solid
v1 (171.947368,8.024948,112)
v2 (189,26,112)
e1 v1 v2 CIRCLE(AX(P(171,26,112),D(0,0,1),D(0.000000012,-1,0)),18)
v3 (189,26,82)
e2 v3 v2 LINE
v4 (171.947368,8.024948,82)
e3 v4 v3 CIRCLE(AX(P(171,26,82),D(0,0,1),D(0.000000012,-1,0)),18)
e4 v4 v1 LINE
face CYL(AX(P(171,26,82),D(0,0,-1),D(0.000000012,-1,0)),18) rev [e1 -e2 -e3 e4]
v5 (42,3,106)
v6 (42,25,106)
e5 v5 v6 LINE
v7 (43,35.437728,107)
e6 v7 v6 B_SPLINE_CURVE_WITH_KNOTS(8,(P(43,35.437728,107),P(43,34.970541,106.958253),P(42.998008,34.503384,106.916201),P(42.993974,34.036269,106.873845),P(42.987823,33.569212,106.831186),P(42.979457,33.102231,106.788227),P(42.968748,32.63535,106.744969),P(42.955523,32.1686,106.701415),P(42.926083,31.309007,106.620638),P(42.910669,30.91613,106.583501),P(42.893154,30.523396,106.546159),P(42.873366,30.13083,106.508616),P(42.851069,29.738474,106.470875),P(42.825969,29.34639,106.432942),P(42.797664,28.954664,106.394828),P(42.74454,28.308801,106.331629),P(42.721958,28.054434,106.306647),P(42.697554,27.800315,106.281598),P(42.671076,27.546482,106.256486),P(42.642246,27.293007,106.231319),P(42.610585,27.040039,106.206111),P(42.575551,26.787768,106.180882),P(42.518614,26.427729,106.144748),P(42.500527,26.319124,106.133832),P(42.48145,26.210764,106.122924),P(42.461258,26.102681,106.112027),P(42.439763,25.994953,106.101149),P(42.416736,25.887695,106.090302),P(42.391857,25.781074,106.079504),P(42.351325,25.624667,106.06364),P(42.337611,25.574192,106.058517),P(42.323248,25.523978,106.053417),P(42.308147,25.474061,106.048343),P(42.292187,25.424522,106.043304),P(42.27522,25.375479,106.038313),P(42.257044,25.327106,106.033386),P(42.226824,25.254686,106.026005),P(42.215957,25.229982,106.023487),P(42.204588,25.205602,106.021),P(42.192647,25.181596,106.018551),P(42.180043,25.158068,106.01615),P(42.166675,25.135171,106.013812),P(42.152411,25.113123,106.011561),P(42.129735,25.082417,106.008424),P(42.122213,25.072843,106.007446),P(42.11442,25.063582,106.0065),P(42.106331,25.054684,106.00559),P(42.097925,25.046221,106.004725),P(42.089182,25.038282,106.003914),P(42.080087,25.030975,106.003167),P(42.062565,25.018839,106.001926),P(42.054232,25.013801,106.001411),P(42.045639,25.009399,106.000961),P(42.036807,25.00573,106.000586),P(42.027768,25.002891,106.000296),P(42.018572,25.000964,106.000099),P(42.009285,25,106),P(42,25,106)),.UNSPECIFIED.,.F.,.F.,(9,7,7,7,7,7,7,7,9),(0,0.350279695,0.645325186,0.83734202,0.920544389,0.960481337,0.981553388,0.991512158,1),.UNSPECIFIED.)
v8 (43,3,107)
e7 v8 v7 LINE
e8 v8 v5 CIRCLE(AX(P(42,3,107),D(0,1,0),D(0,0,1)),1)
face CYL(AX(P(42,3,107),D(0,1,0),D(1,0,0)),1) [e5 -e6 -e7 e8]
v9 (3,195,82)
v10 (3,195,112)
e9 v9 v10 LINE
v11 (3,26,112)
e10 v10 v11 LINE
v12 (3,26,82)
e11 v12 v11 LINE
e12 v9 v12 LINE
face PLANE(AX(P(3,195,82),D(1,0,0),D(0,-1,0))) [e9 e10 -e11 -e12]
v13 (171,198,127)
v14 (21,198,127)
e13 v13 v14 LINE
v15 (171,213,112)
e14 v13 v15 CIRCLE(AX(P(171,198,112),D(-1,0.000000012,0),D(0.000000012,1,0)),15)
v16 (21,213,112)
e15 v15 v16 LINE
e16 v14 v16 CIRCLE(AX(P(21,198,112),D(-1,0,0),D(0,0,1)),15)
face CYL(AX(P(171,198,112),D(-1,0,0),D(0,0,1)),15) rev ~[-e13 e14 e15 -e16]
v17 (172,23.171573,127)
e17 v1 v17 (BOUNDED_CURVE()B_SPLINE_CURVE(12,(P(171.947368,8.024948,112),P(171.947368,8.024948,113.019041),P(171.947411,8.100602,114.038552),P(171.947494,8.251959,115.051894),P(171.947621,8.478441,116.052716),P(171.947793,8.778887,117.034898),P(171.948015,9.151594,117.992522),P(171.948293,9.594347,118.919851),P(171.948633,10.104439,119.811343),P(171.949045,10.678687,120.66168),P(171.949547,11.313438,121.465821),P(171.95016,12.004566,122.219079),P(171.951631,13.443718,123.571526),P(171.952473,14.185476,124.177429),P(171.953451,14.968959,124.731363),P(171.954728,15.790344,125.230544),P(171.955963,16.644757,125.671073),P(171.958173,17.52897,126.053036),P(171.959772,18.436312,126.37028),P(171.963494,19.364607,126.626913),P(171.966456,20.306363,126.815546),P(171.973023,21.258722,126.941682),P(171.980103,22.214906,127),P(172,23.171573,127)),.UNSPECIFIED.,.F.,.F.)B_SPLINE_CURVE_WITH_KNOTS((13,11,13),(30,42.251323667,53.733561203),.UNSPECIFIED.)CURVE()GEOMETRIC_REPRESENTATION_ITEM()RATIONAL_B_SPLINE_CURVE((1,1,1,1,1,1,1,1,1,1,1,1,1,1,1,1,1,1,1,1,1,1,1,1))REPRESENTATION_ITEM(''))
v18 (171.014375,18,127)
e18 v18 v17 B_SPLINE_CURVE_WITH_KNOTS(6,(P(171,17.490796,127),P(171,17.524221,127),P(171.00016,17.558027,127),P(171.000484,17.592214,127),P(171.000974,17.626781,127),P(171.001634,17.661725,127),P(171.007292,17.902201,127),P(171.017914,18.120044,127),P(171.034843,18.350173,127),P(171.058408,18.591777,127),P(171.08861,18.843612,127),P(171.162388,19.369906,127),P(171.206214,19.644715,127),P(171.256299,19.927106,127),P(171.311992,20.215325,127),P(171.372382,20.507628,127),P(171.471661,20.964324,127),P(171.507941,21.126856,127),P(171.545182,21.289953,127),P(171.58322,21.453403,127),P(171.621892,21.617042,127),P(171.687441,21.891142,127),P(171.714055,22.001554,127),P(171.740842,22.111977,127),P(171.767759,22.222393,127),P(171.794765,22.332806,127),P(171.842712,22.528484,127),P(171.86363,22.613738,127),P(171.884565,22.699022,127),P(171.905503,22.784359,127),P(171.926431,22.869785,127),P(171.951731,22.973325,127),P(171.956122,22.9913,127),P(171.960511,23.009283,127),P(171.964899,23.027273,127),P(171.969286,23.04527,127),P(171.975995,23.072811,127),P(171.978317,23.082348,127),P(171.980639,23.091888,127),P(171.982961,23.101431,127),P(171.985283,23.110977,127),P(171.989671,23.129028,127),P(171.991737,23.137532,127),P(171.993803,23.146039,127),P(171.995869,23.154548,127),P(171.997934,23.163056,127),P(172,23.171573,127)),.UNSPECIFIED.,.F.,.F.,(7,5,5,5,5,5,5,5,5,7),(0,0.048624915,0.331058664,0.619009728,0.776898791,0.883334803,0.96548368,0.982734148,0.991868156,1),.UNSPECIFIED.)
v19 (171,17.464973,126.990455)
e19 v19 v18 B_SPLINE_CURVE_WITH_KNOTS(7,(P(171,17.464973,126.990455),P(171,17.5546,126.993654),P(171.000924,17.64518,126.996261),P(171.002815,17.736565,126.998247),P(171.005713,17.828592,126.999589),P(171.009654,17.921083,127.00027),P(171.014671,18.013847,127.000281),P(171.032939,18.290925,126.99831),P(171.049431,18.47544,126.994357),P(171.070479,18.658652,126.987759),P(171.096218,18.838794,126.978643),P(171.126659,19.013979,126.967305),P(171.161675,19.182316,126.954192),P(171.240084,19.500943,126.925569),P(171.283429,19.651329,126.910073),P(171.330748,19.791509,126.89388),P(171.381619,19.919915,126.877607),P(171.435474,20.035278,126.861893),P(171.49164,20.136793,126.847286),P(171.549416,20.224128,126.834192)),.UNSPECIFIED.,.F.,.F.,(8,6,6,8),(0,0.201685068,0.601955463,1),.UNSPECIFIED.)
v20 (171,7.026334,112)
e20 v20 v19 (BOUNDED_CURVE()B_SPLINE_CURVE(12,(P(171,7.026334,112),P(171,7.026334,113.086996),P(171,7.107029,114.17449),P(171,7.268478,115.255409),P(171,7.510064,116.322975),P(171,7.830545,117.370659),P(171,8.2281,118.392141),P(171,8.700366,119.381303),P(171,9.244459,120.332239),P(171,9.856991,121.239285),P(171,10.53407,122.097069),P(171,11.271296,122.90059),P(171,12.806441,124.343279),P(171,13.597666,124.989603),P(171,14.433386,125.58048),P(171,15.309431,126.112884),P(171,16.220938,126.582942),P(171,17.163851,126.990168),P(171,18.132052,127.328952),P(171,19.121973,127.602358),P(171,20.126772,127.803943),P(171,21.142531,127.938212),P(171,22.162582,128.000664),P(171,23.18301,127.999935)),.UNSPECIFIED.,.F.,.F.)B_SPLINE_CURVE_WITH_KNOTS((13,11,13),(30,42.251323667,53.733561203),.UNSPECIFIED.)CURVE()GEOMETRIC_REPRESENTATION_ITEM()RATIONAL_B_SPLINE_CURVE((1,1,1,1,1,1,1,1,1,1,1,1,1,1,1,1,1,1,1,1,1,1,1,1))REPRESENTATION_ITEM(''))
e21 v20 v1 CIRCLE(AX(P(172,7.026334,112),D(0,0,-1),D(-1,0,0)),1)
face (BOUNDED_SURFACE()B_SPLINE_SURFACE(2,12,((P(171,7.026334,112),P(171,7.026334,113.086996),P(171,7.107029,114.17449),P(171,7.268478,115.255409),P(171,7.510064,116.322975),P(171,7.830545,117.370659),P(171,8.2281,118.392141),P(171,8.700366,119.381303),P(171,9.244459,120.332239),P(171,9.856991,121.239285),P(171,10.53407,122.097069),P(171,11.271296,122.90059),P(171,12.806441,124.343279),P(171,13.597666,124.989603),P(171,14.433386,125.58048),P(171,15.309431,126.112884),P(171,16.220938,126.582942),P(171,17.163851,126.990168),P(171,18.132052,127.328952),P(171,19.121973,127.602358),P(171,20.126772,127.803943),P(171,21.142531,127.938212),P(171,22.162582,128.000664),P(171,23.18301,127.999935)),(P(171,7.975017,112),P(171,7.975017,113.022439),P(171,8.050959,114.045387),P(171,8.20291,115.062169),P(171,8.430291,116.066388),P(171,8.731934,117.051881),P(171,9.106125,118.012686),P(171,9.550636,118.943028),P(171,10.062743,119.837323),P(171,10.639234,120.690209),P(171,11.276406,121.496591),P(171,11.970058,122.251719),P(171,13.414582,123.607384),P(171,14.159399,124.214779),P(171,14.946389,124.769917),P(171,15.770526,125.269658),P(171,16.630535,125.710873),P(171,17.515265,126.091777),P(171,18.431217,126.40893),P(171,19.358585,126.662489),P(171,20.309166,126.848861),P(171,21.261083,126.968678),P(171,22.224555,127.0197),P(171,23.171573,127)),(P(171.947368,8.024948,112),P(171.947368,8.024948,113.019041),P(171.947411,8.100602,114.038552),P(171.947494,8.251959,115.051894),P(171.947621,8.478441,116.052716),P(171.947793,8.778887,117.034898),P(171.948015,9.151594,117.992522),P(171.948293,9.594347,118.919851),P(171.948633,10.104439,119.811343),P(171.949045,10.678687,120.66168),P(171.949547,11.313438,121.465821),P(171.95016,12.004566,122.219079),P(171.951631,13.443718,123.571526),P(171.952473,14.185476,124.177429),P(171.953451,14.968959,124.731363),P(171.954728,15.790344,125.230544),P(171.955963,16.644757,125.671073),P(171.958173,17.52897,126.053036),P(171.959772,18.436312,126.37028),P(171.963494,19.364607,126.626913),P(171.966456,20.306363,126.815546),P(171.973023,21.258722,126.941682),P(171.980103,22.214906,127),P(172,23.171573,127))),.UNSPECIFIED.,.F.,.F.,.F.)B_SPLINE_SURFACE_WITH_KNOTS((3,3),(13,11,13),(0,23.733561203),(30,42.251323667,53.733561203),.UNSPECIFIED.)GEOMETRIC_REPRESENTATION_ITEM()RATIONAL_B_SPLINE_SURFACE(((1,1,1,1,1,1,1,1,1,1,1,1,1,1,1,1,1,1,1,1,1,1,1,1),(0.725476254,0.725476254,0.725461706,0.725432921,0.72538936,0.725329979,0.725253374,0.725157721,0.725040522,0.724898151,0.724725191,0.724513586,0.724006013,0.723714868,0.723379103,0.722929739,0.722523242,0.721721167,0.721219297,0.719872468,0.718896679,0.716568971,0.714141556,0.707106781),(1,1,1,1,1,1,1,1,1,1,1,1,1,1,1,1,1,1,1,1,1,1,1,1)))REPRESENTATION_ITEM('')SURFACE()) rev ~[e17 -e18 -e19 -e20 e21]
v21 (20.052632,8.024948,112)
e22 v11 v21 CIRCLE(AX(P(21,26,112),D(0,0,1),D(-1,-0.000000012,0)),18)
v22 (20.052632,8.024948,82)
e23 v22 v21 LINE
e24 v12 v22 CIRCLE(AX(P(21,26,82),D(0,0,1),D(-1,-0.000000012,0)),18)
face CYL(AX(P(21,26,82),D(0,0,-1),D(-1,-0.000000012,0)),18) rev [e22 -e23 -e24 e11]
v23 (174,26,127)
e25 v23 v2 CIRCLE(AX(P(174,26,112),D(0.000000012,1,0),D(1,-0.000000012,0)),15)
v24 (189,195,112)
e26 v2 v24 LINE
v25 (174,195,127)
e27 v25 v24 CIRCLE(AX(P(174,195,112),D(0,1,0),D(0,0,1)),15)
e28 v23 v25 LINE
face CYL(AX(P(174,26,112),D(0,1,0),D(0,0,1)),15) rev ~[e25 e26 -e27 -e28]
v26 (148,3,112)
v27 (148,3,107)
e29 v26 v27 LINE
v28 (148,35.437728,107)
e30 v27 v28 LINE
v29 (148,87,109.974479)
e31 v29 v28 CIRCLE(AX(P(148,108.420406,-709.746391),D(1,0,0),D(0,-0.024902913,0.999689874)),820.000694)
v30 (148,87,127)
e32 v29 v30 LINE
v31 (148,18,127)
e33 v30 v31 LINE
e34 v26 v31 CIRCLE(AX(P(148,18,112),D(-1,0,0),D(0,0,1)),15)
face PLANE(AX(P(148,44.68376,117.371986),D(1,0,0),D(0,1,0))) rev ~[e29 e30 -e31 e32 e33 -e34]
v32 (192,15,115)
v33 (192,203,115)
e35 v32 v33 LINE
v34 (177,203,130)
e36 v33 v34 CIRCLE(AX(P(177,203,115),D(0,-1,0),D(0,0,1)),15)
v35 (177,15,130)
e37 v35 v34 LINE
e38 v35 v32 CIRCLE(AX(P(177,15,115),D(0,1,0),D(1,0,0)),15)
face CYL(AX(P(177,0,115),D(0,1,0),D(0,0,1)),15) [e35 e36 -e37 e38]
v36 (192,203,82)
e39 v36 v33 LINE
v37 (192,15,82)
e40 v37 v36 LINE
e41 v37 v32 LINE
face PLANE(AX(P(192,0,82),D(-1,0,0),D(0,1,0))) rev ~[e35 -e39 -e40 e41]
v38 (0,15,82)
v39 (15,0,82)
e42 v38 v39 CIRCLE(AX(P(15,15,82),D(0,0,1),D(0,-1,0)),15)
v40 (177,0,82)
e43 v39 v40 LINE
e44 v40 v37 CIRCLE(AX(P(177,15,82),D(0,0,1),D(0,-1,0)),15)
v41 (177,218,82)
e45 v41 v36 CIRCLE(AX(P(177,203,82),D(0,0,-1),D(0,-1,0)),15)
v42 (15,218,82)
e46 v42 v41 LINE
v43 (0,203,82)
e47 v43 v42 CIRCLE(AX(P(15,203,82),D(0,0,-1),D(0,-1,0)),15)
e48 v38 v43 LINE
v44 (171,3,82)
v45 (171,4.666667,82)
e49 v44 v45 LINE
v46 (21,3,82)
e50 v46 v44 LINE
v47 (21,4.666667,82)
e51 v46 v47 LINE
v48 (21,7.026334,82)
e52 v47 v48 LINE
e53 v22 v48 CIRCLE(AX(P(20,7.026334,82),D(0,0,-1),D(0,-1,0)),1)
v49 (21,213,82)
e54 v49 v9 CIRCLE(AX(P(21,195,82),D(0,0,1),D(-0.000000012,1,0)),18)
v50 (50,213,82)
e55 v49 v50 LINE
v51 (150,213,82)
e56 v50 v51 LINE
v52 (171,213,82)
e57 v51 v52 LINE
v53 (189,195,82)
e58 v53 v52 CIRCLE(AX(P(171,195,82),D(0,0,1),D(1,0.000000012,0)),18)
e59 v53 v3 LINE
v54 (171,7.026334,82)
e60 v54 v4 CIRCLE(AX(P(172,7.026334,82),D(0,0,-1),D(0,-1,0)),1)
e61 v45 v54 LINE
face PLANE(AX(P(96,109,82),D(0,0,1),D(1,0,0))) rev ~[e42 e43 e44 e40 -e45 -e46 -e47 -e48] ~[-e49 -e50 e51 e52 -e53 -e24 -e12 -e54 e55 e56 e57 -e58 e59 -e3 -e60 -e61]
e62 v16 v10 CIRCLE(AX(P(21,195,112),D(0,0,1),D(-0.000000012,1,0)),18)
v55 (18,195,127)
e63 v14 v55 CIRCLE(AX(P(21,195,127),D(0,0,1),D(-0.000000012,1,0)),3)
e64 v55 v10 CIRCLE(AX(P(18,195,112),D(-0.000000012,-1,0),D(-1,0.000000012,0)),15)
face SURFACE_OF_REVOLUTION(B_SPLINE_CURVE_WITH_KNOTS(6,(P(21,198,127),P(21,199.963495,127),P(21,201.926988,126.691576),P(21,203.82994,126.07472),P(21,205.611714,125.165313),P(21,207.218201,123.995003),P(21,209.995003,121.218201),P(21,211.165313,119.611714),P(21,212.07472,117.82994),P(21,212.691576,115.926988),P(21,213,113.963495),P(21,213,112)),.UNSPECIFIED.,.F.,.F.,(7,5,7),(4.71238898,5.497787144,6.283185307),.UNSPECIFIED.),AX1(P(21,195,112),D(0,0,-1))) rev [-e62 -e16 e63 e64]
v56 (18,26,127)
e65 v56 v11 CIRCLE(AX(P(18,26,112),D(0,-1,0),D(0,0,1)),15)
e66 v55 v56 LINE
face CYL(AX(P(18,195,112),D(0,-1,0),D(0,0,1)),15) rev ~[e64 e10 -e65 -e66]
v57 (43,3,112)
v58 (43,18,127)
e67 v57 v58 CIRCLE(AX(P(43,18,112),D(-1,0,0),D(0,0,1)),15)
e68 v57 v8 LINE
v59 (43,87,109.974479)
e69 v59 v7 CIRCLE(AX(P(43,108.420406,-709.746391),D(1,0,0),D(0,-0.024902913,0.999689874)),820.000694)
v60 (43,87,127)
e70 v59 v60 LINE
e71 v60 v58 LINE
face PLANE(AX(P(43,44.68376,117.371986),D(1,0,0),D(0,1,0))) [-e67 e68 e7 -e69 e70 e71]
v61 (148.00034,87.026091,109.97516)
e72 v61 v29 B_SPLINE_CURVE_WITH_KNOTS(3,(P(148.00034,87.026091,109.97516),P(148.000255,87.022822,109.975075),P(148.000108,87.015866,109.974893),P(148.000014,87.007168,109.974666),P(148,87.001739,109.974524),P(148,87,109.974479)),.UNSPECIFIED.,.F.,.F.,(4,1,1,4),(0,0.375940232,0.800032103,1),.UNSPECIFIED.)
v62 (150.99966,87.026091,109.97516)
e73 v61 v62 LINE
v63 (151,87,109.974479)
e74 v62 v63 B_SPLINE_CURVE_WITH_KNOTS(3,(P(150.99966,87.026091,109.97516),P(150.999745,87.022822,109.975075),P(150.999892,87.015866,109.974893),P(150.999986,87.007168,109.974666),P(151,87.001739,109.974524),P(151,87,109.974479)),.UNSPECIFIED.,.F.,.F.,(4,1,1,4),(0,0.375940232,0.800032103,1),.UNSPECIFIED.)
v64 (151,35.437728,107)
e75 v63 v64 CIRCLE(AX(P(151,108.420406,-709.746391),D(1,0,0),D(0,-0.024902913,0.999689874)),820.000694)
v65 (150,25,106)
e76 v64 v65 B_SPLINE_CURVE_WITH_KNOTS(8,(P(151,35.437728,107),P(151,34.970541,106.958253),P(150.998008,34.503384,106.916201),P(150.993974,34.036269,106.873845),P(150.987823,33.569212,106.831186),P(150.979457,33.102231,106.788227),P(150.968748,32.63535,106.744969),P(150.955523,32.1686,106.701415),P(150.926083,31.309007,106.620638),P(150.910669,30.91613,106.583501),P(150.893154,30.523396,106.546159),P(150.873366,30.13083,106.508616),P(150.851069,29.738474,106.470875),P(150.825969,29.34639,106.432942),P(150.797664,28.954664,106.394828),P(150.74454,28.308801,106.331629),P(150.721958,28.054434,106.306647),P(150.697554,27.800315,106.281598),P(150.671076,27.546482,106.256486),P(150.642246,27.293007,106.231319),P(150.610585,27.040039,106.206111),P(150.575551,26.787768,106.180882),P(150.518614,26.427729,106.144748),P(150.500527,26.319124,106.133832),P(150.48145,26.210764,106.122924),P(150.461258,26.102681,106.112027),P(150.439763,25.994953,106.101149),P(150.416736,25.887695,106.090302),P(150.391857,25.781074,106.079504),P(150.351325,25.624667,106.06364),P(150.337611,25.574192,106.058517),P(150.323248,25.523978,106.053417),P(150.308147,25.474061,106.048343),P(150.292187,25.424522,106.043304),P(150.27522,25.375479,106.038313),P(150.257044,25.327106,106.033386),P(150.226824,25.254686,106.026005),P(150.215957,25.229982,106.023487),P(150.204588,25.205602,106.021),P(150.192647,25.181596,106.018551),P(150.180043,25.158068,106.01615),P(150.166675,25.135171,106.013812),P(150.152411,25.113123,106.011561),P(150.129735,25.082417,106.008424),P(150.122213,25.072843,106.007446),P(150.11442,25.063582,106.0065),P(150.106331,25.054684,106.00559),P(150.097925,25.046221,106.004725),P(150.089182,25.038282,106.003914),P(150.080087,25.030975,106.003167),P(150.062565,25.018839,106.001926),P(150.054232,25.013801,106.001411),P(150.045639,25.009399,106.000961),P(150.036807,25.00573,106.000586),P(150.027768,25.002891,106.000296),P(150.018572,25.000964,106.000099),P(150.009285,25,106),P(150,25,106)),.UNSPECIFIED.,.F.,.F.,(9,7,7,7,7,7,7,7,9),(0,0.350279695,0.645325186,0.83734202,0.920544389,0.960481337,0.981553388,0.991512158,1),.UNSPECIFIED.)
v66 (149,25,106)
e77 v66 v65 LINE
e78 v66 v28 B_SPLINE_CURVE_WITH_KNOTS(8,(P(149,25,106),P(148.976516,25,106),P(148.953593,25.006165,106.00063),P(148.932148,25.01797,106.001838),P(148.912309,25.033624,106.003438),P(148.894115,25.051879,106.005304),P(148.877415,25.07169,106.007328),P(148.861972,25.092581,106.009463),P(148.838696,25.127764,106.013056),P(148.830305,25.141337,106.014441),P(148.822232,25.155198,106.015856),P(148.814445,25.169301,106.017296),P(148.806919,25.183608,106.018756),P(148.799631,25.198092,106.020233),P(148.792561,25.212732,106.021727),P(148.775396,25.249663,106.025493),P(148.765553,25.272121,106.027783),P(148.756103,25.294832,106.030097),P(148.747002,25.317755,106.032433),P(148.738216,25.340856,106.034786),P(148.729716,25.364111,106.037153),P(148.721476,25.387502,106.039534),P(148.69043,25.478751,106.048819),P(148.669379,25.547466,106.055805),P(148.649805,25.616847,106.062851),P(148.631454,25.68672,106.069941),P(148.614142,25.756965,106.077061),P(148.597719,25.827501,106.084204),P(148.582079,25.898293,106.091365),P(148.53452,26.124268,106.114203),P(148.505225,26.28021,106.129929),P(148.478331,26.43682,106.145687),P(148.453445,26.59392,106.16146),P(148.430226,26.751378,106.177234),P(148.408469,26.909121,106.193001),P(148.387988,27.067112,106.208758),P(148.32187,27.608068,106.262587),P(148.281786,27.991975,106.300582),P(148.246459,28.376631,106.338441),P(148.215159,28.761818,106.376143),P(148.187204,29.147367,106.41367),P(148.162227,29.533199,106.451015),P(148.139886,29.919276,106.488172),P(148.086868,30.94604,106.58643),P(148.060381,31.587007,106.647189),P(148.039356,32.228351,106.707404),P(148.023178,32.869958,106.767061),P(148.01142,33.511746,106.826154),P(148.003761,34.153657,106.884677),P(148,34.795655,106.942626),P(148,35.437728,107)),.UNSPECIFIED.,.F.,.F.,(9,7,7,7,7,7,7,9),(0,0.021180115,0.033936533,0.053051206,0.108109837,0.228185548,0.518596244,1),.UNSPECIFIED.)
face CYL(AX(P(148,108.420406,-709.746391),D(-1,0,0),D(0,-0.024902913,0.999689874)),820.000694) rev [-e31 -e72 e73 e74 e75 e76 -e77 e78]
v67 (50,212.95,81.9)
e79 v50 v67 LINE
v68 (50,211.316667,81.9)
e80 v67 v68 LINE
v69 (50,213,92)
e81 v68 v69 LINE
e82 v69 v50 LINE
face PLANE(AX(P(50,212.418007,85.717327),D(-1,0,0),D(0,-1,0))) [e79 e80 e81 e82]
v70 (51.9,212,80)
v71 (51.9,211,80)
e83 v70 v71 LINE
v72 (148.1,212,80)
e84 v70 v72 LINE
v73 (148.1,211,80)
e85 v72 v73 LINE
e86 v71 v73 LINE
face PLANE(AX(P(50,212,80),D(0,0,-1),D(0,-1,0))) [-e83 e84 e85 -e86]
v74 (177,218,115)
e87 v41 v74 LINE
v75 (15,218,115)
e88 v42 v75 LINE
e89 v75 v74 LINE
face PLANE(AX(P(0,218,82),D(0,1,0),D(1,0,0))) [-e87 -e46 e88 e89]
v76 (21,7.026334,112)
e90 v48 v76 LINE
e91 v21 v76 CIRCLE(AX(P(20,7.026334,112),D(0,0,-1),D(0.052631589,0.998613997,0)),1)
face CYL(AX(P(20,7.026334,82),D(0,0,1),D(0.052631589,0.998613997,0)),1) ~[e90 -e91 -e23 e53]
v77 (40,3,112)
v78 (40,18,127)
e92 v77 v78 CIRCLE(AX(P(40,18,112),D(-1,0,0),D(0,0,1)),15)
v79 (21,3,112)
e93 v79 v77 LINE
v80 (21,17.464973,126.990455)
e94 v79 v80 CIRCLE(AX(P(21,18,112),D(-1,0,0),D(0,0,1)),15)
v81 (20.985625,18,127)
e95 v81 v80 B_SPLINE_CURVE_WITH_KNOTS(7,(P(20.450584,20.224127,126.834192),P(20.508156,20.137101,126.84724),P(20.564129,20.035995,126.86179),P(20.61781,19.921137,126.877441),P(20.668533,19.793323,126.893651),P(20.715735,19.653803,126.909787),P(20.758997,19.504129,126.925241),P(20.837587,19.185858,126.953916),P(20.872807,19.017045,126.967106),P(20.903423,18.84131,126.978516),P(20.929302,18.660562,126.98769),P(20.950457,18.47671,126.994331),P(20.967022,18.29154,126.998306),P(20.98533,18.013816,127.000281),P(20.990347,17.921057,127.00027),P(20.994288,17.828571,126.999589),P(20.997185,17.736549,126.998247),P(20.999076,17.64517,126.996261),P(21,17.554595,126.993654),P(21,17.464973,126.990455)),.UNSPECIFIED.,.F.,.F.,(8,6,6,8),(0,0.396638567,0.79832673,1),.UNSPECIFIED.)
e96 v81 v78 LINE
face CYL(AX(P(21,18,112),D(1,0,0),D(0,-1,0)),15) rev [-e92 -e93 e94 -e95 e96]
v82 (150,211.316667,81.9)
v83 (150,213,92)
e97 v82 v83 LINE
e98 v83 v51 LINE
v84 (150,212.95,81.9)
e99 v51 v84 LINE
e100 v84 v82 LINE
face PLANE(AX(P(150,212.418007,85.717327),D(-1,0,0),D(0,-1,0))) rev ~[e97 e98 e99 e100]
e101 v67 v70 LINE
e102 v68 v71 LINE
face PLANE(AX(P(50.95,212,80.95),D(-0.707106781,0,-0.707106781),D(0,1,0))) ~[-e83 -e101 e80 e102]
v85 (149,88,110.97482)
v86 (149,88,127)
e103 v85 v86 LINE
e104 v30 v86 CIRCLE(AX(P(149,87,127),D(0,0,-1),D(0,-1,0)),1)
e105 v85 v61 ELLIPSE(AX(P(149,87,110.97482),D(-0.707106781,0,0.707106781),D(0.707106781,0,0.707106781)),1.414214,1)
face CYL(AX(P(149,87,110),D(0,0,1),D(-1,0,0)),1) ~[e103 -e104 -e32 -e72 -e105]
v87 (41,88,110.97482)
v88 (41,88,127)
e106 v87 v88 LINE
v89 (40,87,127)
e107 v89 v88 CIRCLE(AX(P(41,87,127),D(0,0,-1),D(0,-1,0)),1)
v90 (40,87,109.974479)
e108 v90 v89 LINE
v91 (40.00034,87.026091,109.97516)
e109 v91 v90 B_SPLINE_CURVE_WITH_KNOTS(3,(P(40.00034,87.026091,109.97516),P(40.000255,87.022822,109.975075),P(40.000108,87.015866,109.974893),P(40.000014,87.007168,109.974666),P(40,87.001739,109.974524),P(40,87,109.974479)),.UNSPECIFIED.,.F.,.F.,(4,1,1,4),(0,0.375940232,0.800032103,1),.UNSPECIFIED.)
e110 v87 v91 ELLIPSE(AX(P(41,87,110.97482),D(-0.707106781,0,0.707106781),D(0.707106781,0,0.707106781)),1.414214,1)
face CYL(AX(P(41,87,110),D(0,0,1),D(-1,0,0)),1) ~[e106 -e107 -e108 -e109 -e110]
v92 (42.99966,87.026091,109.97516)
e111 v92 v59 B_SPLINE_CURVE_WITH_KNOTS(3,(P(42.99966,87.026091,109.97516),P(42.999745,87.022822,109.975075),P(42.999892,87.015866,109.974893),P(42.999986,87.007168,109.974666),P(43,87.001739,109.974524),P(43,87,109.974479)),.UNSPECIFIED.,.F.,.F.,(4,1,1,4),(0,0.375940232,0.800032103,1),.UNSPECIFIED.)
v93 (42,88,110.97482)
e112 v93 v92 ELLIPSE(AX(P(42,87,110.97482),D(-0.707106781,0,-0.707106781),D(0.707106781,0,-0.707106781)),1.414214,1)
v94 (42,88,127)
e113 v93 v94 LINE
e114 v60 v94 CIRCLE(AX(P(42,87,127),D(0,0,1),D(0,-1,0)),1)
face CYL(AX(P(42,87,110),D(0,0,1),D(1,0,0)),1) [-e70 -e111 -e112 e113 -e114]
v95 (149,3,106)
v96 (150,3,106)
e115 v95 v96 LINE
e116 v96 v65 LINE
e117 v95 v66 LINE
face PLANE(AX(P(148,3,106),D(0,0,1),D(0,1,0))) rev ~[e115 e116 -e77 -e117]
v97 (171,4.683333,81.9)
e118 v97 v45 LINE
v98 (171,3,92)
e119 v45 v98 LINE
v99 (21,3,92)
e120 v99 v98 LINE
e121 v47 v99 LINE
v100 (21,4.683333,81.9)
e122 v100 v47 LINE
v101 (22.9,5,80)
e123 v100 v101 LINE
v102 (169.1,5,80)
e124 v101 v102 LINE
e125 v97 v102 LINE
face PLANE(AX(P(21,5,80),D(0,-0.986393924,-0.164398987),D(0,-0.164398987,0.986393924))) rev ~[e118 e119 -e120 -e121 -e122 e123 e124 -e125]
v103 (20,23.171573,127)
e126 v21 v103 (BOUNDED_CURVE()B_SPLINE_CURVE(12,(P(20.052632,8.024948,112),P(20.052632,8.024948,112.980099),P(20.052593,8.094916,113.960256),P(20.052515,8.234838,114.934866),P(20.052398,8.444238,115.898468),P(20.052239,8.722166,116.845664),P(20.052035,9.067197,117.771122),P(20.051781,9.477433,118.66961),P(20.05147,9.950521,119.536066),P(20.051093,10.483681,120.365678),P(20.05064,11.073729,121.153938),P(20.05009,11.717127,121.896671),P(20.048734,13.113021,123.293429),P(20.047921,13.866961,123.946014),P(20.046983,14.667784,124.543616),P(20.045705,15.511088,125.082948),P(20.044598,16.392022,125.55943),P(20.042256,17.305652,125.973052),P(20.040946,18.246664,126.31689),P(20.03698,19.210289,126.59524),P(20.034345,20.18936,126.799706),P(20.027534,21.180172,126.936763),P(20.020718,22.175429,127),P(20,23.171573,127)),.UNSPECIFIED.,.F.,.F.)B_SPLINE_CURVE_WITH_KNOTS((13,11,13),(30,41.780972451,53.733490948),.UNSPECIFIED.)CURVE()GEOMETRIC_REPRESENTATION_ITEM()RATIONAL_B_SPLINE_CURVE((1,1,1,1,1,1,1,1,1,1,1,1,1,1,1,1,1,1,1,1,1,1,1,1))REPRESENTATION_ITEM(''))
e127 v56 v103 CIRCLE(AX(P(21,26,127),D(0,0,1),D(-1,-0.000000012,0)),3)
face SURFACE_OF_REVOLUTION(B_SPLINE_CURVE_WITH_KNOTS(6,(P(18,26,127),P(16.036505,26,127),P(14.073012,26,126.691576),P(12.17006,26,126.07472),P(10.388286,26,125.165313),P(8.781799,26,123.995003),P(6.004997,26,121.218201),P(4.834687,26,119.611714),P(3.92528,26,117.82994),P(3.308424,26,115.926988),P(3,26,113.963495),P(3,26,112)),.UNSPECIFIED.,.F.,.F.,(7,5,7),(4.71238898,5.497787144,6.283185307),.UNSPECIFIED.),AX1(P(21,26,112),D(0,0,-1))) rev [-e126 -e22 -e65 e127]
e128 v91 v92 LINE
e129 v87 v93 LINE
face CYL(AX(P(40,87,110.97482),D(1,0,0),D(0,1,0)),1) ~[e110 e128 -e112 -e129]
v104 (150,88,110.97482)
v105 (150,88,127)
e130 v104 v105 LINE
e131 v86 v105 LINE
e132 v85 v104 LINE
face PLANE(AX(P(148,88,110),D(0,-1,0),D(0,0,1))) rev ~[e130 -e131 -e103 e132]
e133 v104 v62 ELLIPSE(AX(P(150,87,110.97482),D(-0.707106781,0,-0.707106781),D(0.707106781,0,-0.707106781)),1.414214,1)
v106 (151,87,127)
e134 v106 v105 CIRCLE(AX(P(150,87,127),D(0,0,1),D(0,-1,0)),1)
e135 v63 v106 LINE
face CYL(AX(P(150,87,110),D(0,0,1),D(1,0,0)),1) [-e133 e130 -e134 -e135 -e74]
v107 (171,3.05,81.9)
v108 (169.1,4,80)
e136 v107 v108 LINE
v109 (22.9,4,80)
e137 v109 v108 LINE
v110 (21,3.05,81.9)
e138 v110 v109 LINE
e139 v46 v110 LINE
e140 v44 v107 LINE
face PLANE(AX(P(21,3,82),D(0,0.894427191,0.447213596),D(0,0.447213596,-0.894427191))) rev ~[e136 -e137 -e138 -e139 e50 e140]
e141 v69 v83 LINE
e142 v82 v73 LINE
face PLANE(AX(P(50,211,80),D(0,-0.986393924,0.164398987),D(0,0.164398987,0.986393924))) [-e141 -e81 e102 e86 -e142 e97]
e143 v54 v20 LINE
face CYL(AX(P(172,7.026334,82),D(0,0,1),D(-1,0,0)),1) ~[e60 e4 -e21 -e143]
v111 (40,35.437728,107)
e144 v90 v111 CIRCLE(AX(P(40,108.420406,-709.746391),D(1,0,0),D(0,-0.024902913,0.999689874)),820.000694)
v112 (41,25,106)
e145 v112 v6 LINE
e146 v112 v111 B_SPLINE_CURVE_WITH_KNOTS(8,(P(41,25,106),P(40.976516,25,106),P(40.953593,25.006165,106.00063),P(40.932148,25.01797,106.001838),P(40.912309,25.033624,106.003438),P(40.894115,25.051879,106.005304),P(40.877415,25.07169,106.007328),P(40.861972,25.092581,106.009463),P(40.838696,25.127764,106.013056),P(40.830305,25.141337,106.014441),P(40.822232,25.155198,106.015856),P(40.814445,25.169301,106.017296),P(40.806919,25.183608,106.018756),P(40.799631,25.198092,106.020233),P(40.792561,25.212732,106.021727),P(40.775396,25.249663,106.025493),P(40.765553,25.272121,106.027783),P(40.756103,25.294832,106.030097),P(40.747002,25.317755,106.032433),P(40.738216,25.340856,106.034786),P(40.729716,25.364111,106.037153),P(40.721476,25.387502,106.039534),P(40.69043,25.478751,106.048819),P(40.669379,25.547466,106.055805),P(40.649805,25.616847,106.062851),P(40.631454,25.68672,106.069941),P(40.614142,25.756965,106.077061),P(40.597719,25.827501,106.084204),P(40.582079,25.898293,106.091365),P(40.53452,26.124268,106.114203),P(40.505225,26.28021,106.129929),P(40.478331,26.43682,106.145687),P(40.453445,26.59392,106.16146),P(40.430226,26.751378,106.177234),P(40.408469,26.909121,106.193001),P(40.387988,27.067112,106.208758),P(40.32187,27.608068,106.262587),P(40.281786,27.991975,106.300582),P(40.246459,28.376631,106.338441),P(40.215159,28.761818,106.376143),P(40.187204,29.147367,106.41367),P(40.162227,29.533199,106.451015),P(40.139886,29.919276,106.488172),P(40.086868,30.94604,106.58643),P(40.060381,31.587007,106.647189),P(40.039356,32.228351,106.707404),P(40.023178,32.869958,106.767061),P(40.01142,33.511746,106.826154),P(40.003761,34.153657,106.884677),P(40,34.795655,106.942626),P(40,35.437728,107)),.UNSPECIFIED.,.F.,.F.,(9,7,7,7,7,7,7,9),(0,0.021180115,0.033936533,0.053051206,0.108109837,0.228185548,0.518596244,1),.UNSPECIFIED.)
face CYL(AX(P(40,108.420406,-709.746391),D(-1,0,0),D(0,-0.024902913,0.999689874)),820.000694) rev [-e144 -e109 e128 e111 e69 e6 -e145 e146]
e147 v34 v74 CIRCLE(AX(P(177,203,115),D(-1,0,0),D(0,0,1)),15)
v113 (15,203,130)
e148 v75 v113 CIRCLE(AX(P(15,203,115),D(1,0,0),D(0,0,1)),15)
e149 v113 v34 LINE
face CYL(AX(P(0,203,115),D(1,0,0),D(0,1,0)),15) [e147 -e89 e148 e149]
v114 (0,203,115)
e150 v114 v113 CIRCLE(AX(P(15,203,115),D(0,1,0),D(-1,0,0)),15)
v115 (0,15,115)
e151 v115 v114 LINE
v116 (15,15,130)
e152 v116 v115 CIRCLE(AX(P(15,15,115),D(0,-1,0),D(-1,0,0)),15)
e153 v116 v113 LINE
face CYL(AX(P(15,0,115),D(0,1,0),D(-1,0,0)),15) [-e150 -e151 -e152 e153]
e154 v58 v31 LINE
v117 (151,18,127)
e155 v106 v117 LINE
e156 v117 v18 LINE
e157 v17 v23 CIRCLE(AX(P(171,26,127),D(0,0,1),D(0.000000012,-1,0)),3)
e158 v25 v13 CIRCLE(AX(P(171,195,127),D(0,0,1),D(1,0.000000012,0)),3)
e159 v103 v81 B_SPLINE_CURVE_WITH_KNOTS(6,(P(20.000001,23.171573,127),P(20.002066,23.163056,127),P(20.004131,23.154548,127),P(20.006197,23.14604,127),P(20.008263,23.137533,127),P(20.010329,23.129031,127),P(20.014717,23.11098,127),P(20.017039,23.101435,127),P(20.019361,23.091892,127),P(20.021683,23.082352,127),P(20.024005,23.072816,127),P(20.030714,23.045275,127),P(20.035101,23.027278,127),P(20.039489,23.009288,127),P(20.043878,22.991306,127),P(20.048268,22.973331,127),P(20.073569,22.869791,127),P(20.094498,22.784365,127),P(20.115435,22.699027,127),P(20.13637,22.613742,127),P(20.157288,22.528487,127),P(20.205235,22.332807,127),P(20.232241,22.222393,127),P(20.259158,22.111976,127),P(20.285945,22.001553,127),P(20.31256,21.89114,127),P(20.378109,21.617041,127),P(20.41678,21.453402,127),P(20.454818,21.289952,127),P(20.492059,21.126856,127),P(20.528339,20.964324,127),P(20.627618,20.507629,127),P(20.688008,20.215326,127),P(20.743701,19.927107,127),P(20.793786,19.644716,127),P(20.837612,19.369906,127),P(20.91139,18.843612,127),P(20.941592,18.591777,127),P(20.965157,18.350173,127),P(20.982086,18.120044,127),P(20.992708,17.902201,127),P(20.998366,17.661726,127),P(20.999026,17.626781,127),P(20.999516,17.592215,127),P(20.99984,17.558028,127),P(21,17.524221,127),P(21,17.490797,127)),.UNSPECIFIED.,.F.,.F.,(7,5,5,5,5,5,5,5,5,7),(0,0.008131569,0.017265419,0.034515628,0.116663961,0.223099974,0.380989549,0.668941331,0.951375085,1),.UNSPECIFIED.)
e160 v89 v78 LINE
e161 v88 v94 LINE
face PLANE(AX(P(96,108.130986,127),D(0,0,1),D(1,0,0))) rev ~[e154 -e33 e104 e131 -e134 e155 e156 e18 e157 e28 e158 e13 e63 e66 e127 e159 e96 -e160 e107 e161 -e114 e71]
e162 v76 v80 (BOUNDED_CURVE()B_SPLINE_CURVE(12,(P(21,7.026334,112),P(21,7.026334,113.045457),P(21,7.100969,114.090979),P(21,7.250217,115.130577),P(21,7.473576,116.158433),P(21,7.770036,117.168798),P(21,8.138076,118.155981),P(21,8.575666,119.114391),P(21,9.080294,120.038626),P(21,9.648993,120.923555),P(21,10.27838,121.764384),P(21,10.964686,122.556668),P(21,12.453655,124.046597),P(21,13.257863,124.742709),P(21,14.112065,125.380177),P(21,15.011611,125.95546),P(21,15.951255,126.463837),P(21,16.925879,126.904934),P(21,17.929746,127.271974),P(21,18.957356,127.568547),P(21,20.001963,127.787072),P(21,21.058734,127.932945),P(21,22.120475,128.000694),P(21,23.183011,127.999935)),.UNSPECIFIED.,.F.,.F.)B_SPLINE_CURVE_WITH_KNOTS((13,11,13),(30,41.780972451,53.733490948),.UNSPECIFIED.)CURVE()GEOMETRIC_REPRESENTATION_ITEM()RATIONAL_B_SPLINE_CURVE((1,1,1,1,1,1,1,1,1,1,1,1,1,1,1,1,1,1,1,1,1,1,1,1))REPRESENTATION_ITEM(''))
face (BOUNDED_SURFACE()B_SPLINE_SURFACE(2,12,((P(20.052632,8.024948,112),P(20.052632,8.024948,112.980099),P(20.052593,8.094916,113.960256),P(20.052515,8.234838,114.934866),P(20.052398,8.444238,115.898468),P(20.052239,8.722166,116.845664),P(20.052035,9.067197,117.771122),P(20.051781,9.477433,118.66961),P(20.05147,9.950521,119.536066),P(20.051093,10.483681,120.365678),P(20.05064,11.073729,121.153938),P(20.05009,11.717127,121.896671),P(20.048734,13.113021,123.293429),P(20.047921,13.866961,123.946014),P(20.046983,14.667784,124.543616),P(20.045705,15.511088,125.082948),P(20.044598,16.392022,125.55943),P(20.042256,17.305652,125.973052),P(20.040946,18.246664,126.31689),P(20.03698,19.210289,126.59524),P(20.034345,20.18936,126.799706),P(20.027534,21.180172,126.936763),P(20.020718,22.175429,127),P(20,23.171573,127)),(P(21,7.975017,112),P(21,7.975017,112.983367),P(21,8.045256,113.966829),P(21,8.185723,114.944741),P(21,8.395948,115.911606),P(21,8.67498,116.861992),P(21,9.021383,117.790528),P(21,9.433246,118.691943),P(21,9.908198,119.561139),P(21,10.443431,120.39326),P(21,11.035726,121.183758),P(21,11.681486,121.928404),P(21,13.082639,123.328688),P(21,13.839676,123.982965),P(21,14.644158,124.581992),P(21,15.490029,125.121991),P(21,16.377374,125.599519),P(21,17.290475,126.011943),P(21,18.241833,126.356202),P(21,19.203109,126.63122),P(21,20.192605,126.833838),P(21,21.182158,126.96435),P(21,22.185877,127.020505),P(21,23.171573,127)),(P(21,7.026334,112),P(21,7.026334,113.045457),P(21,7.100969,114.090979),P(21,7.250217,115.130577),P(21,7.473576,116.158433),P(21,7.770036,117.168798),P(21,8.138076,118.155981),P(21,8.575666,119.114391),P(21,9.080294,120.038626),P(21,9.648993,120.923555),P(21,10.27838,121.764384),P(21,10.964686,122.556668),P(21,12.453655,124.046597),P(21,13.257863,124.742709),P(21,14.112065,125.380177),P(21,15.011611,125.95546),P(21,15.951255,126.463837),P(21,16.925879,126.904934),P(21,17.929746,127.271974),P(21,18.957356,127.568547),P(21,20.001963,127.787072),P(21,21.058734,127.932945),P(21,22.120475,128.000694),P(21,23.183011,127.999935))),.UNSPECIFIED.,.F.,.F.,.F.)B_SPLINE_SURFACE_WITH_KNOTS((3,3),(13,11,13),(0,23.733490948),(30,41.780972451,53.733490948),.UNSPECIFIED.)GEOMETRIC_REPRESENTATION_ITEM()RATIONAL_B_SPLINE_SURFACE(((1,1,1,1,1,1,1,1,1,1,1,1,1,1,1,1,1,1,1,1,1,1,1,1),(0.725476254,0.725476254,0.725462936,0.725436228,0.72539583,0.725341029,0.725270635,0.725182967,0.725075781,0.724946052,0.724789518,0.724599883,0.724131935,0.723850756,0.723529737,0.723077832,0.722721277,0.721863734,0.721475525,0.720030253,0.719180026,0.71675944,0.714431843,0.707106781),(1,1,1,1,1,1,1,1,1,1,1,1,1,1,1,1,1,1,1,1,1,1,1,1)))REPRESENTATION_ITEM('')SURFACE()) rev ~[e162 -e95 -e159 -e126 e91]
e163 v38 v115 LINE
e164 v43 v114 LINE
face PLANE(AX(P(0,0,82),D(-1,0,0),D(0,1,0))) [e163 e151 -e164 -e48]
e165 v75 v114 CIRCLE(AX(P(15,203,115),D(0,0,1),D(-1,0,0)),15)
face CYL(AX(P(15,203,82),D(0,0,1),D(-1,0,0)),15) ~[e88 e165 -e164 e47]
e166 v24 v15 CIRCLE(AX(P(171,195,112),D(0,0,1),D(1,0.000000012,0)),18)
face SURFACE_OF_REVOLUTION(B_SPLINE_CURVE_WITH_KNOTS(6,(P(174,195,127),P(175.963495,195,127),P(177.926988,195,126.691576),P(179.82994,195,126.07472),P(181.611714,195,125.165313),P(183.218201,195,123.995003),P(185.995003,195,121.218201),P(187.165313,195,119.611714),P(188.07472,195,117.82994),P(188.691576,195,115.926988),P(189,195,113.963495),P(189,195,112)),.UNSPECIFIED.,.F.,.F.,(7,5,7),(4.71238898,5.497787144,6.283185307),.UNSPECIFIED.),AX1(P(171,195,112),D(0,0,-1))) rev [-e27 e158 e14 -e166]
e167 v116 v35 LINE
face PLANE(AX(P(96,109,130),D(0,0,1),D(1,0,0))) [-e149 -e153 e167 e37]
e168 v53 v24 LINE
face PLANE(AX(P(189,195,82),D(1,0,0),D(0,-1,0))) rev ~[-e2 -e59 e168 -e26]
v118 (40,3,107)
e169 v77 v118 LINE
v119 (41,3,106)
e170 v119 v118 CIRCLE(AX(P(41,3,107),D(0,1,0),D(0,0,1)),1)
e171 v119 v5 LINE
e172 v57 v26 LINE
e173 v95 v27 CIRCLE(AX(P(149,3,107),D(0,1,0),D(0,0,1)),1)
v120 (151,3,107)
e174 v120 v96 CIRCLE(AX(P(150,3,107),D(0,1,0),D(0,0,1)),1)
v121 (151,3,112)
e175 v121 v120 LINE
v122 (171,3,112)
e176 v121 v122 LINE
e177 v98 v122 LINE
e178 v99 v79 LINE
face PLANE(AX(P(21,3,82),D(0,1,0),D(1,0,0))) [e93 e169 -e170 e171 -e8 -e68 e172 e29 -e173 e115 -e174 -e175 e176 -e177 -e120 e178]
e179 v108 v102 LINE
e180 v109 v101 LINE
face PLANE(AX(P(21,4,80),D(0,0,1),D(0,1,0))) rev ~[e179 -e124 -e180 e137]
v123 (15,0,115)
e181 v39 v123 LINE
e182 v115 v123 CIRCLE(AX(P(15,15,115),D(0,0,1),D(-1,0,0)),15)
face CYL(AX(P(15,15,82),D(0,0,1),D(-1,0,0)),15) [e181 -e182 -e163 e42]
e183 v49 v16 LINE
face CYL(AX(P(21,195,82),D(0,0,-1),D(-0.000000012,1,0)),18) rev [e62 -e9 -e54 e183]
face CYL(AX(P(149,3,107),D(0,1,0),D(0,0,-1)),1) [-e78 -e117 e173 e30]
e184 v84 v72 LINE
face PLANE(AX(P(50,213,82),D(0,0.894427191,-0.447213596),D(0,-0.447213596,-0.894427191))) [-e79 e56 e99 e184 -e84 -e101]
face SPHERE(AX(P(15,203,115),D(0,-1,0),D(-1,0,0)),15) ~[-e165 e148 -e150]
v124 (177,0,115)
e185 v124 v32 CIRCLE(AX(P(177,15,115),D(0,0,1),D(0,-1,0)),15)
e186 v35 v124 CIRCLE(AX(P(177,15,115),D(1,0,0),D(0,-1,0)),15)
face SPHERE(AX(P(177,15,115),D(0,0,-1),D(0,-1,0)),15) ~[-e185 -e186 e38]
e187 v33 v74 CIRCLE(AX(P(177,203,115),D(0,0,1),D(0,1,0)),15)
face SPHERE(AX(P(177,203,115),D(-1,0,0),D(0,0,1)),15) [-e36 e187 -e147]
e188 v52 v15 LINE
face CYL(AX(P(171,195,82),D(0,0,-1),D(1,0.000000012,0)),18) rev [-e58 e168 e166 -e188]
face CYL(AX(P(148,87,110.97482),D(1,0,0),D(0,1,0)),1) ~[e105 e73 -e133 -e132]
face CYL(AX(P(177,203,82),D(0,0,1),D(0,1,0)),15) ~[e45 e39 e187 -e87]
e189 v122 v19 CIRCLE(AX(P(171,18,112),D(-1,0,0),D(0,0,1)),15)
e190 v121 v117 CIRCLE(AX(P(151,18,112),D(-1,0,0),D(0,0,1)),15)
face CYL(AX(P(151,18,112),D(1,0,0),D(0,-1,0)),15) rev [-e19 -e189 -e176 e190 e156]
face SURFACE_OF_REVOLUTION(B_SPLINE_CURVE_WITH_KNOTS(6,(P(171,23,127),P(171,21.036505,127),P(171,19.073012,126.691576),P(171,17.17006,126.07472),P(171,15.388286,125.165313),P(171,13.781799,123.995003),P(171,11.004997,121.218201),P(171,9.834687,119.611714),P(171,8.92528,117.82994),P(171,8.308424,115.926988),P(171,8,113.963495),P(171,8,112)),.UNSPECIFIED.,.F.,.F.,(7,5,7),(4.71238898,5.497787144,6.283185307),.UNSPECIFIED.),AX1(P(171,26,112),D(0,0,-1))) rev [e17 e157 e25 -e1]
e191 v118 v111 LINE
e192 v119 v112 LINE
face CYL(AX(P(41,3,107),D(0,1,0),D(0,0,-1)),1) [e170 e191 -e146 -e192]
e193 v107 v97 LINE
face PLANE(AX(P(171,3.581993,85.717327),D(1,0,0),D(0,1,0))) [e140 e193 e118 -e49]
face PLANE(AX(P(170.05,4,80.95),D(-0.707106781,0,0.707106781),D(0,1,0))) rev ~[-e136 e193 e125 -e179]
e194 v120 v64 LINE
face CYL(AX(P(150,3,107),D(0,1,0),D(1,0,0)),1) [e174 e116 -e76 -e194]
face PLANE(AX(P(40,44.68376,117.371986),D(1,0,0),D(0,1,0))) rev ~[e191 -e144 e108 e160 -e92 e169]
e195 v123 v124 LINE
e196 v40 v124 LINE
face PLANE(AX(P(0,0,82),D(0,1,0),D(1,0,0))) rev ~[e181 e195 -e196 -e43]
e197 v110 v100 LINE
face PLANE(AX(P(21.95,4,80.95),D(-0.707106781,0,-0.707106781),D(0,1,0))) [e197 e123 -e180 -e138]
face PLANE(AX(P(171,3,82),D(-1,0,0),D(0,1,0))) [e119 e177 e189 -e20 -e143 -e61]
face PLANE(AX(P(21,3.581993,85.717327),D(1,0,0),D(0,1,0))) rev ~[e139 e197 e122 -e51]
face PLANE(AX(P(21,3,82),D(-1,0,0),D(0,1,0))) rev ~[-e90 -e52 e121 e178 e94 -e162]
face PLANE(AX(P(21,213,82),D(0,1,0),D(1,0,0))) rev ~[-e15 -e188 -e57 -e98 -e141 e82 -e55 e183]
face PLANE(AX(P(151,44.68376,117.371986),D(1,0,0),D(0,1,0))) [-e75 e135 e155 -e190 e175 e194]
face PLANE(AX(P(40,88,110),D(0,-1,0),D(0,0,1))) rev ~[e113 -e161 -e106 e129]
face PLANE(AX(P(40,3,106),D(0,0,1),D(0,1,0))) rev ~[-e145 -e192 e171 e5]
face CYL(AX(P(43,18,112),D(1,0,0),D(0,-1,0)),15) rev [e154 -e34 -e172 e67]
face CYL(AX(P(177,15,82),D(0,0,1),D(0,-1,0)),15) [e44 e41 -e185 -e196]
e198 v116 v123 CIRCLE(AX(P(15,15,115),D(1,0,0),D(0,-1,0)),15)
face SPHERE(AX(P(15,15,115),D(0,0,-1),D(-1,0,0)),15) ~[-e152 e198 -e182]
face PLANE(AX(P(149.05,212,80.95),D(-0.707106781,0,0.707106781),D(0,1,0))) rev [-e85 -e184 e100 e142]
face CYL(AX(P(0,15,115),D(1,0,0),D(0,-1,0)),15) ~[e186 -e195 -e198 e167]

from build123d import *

# Parameters (mm, degrees)
PAD004_DEPTH  = 3
PAD003_DEPTH  = 45
FILLET003_R   = 15
FILLET004_R   = 15
BOX006_W      = 192
BOX006_H      = 218
BOX006_DEPTH  = 48
FILLET005_1_R = 15
FILLET005_2_R = 1
PAD007_DEPTH  = 100
PAD005_DEPTH  = 150
CHAMFER_SIZE  = 1.9


with BuildPart() as leftstand:
    # Sketch004 → Pad004 (new body)
    with BuildSketch(Plane.YZ):
        with BuildLine():
            Line((88, 4), (88, 21))
            Line((88, 21), (3, 21))
            Line((3, 21), (3, 0))
            Line((3, 0), (25, 0))
            ThreePointArc((88, 4), (56.461494, 2.606473), (25, 0))
        make_face()
    extrude(amount=PAD004_DEPTH)


with BuildPart() as leftstand_1:
    # Body004 placement: moved
    add(leftstand.part.moved(Location((40, 0, 106))))


with BuildPart() as fusion002:
    # Body005 base: copy of LeftStand
    add(leftstand_1.part)


with BuildPart() as fusion002_1:
    # Body005 placement: moved
    add(fusion002.part.moved(Location((108, 0, 0))))

    # Fusion002: union LeftStand
    add(leftstand_1.part)


with BuildPart() as fillet004:
    # Sketch003 → Pad003 (new body)
    with BuildSketch(Plane.XY):
        with BuildLine():
            Line((18, 0), (168, 0))
            Line((168, 0), (168, 5))
            ThreePointArc((168, 5), (180.727922, 10.272078), (186, 23))
            Line((186, 192), (186, 23))
            ThreePointArc((186, 192), (180.727922, 204.727922), (168, 210))
            Line((18, 210), (168, 210))
            ThreePointArc((18, 210), (5.272078, 204.727922), (0, 192))
            Line((0, 192), (0, 23))
            ThreePointArc((0, 23), (5.272078, 10.272078), (18, 5))
            Line((18, 0), (18, 5))
        make_face()
    extrude(amount=PAD003_DEPTH)


with BuildPart() as fillet004_1:
    # Body003 placement: moved
    add(fillet004.part.moved(Location((3, 3, 82))))

    # Cut001: cut Fusion002
    add(fusion002_1.part, mode=Mode.SUBTRACT)

    # Fillet003
    fillet003_edges = [fillet004_1.edges().sort_by_distance(p)[0] for p in [
        (8.272078, 207.727922, 127),
        (96, 213, 127),
        (3, 110.5, 127),
        (183.727922, 207.727922, 127),
        (189, 110.5, 127),
        (183.727922, 13.272078, 127),
        (95.5, 3, 127),
        (8.272078, 13.272078, 127),
    ]]
    fillet(fillet003_edges, radius=FILLET003_R)

    # Fillet004
    fillet004_edges = [fillet004_1.edges().sort_by_distance(p)[0] for p in [
        (161, 3, 127),
        (30.5, 3, 127),
    ]]
    fillet(fillet004_edges, radius=FILLET004_R)


with BuildPart() as fillet005:
    # Box006 → Box006 (new body)
    with BuildSketch(Plane.XY.offset(82)):
        with Locations((96, 109)):
            Rectangle(BOX006_W, BOX006_H)
    extrude(amount=BOX006_DEPTH)

    # Cut002: cut Fillet004
    add(fillet004_1.part, mode=Mode.SUBTRACT)

    # Fillet005 1
    fillet005_1_edges = [fillet005.edges().sort_by_distance(p)[0] for p in [
        (0, 0, 106),
        (0, 109, 130),
        (0, 218, 106),
        (192, 0, 106),
        (96, 0, 130),
        (96, 218, 130),
        (192, 109, 130),
        (192, 218, 106),
    ]]
    fillet(fillet005_1_edges, radius=FILLET005_1_R)

    # Fillet005 2
    fillet005_2_edges = [fillet005.edges().sort_by_distance(p)[0] for p in [
        (171, 8, 97),
        (21, 8, 97),
        (151, 88, 118.5),
        (151, 14, 106),
        (148, 14, 106),
        (148, 88, 118.5),
        (43, 88, 118.5),
        (43, 14, 106),
        (40, 14, 106),
        (40, 88, 118.5),
        (149.5, 88, 110),
        (41.5, 88, 110),
    ]]
    fillet(fillet005_2_edges, radius=FILLET005_2_R)


with BuildPart() as locklead002:
    # Sketch007 → Pad007 (new body)
    with BuildSketch(Plane.YZ):
        Polygon((0, 0), (2, 12), (2, 2), (1, 0), align=None)
    extrude(amount=PAD007_DEPTH)


with BuildPart() as locklead002_1:
    # Body008 placement: moved
    add(locklead002.part.moved(Location((50, 211, 80))))


with BuildPart() as lid:
    # Sketch005 → Pad005 (new body)
    with BuildSketch(Plane.YZ):
        Polygon((0, 12), (0, 2), (1, 0), (2, 0), align=None)
    extrude(amount=PAD005_DEPTH)


with BuildPart() as lid_1:
    # Body006 placement: moved
    add(lid.part.moved(Location((21, 3, 80))))

    # Fusion003: union Fillet005, LockLead002
    add(fillet005.part)
    add(locklead002_1.part)

    # Chamfer
    chamfer_edges = [lid_1.edges().sort_by_distance(p)[0] for p in [
        (21, 4.5, 80),
        (171, 4.5, 80),
        (50, 211.5, 80),
        (150, 211.5, 80),
    ]]
    chamfer(chamfer_edges, length=CHAMFER_SIZE)


solid = lid_1.part
